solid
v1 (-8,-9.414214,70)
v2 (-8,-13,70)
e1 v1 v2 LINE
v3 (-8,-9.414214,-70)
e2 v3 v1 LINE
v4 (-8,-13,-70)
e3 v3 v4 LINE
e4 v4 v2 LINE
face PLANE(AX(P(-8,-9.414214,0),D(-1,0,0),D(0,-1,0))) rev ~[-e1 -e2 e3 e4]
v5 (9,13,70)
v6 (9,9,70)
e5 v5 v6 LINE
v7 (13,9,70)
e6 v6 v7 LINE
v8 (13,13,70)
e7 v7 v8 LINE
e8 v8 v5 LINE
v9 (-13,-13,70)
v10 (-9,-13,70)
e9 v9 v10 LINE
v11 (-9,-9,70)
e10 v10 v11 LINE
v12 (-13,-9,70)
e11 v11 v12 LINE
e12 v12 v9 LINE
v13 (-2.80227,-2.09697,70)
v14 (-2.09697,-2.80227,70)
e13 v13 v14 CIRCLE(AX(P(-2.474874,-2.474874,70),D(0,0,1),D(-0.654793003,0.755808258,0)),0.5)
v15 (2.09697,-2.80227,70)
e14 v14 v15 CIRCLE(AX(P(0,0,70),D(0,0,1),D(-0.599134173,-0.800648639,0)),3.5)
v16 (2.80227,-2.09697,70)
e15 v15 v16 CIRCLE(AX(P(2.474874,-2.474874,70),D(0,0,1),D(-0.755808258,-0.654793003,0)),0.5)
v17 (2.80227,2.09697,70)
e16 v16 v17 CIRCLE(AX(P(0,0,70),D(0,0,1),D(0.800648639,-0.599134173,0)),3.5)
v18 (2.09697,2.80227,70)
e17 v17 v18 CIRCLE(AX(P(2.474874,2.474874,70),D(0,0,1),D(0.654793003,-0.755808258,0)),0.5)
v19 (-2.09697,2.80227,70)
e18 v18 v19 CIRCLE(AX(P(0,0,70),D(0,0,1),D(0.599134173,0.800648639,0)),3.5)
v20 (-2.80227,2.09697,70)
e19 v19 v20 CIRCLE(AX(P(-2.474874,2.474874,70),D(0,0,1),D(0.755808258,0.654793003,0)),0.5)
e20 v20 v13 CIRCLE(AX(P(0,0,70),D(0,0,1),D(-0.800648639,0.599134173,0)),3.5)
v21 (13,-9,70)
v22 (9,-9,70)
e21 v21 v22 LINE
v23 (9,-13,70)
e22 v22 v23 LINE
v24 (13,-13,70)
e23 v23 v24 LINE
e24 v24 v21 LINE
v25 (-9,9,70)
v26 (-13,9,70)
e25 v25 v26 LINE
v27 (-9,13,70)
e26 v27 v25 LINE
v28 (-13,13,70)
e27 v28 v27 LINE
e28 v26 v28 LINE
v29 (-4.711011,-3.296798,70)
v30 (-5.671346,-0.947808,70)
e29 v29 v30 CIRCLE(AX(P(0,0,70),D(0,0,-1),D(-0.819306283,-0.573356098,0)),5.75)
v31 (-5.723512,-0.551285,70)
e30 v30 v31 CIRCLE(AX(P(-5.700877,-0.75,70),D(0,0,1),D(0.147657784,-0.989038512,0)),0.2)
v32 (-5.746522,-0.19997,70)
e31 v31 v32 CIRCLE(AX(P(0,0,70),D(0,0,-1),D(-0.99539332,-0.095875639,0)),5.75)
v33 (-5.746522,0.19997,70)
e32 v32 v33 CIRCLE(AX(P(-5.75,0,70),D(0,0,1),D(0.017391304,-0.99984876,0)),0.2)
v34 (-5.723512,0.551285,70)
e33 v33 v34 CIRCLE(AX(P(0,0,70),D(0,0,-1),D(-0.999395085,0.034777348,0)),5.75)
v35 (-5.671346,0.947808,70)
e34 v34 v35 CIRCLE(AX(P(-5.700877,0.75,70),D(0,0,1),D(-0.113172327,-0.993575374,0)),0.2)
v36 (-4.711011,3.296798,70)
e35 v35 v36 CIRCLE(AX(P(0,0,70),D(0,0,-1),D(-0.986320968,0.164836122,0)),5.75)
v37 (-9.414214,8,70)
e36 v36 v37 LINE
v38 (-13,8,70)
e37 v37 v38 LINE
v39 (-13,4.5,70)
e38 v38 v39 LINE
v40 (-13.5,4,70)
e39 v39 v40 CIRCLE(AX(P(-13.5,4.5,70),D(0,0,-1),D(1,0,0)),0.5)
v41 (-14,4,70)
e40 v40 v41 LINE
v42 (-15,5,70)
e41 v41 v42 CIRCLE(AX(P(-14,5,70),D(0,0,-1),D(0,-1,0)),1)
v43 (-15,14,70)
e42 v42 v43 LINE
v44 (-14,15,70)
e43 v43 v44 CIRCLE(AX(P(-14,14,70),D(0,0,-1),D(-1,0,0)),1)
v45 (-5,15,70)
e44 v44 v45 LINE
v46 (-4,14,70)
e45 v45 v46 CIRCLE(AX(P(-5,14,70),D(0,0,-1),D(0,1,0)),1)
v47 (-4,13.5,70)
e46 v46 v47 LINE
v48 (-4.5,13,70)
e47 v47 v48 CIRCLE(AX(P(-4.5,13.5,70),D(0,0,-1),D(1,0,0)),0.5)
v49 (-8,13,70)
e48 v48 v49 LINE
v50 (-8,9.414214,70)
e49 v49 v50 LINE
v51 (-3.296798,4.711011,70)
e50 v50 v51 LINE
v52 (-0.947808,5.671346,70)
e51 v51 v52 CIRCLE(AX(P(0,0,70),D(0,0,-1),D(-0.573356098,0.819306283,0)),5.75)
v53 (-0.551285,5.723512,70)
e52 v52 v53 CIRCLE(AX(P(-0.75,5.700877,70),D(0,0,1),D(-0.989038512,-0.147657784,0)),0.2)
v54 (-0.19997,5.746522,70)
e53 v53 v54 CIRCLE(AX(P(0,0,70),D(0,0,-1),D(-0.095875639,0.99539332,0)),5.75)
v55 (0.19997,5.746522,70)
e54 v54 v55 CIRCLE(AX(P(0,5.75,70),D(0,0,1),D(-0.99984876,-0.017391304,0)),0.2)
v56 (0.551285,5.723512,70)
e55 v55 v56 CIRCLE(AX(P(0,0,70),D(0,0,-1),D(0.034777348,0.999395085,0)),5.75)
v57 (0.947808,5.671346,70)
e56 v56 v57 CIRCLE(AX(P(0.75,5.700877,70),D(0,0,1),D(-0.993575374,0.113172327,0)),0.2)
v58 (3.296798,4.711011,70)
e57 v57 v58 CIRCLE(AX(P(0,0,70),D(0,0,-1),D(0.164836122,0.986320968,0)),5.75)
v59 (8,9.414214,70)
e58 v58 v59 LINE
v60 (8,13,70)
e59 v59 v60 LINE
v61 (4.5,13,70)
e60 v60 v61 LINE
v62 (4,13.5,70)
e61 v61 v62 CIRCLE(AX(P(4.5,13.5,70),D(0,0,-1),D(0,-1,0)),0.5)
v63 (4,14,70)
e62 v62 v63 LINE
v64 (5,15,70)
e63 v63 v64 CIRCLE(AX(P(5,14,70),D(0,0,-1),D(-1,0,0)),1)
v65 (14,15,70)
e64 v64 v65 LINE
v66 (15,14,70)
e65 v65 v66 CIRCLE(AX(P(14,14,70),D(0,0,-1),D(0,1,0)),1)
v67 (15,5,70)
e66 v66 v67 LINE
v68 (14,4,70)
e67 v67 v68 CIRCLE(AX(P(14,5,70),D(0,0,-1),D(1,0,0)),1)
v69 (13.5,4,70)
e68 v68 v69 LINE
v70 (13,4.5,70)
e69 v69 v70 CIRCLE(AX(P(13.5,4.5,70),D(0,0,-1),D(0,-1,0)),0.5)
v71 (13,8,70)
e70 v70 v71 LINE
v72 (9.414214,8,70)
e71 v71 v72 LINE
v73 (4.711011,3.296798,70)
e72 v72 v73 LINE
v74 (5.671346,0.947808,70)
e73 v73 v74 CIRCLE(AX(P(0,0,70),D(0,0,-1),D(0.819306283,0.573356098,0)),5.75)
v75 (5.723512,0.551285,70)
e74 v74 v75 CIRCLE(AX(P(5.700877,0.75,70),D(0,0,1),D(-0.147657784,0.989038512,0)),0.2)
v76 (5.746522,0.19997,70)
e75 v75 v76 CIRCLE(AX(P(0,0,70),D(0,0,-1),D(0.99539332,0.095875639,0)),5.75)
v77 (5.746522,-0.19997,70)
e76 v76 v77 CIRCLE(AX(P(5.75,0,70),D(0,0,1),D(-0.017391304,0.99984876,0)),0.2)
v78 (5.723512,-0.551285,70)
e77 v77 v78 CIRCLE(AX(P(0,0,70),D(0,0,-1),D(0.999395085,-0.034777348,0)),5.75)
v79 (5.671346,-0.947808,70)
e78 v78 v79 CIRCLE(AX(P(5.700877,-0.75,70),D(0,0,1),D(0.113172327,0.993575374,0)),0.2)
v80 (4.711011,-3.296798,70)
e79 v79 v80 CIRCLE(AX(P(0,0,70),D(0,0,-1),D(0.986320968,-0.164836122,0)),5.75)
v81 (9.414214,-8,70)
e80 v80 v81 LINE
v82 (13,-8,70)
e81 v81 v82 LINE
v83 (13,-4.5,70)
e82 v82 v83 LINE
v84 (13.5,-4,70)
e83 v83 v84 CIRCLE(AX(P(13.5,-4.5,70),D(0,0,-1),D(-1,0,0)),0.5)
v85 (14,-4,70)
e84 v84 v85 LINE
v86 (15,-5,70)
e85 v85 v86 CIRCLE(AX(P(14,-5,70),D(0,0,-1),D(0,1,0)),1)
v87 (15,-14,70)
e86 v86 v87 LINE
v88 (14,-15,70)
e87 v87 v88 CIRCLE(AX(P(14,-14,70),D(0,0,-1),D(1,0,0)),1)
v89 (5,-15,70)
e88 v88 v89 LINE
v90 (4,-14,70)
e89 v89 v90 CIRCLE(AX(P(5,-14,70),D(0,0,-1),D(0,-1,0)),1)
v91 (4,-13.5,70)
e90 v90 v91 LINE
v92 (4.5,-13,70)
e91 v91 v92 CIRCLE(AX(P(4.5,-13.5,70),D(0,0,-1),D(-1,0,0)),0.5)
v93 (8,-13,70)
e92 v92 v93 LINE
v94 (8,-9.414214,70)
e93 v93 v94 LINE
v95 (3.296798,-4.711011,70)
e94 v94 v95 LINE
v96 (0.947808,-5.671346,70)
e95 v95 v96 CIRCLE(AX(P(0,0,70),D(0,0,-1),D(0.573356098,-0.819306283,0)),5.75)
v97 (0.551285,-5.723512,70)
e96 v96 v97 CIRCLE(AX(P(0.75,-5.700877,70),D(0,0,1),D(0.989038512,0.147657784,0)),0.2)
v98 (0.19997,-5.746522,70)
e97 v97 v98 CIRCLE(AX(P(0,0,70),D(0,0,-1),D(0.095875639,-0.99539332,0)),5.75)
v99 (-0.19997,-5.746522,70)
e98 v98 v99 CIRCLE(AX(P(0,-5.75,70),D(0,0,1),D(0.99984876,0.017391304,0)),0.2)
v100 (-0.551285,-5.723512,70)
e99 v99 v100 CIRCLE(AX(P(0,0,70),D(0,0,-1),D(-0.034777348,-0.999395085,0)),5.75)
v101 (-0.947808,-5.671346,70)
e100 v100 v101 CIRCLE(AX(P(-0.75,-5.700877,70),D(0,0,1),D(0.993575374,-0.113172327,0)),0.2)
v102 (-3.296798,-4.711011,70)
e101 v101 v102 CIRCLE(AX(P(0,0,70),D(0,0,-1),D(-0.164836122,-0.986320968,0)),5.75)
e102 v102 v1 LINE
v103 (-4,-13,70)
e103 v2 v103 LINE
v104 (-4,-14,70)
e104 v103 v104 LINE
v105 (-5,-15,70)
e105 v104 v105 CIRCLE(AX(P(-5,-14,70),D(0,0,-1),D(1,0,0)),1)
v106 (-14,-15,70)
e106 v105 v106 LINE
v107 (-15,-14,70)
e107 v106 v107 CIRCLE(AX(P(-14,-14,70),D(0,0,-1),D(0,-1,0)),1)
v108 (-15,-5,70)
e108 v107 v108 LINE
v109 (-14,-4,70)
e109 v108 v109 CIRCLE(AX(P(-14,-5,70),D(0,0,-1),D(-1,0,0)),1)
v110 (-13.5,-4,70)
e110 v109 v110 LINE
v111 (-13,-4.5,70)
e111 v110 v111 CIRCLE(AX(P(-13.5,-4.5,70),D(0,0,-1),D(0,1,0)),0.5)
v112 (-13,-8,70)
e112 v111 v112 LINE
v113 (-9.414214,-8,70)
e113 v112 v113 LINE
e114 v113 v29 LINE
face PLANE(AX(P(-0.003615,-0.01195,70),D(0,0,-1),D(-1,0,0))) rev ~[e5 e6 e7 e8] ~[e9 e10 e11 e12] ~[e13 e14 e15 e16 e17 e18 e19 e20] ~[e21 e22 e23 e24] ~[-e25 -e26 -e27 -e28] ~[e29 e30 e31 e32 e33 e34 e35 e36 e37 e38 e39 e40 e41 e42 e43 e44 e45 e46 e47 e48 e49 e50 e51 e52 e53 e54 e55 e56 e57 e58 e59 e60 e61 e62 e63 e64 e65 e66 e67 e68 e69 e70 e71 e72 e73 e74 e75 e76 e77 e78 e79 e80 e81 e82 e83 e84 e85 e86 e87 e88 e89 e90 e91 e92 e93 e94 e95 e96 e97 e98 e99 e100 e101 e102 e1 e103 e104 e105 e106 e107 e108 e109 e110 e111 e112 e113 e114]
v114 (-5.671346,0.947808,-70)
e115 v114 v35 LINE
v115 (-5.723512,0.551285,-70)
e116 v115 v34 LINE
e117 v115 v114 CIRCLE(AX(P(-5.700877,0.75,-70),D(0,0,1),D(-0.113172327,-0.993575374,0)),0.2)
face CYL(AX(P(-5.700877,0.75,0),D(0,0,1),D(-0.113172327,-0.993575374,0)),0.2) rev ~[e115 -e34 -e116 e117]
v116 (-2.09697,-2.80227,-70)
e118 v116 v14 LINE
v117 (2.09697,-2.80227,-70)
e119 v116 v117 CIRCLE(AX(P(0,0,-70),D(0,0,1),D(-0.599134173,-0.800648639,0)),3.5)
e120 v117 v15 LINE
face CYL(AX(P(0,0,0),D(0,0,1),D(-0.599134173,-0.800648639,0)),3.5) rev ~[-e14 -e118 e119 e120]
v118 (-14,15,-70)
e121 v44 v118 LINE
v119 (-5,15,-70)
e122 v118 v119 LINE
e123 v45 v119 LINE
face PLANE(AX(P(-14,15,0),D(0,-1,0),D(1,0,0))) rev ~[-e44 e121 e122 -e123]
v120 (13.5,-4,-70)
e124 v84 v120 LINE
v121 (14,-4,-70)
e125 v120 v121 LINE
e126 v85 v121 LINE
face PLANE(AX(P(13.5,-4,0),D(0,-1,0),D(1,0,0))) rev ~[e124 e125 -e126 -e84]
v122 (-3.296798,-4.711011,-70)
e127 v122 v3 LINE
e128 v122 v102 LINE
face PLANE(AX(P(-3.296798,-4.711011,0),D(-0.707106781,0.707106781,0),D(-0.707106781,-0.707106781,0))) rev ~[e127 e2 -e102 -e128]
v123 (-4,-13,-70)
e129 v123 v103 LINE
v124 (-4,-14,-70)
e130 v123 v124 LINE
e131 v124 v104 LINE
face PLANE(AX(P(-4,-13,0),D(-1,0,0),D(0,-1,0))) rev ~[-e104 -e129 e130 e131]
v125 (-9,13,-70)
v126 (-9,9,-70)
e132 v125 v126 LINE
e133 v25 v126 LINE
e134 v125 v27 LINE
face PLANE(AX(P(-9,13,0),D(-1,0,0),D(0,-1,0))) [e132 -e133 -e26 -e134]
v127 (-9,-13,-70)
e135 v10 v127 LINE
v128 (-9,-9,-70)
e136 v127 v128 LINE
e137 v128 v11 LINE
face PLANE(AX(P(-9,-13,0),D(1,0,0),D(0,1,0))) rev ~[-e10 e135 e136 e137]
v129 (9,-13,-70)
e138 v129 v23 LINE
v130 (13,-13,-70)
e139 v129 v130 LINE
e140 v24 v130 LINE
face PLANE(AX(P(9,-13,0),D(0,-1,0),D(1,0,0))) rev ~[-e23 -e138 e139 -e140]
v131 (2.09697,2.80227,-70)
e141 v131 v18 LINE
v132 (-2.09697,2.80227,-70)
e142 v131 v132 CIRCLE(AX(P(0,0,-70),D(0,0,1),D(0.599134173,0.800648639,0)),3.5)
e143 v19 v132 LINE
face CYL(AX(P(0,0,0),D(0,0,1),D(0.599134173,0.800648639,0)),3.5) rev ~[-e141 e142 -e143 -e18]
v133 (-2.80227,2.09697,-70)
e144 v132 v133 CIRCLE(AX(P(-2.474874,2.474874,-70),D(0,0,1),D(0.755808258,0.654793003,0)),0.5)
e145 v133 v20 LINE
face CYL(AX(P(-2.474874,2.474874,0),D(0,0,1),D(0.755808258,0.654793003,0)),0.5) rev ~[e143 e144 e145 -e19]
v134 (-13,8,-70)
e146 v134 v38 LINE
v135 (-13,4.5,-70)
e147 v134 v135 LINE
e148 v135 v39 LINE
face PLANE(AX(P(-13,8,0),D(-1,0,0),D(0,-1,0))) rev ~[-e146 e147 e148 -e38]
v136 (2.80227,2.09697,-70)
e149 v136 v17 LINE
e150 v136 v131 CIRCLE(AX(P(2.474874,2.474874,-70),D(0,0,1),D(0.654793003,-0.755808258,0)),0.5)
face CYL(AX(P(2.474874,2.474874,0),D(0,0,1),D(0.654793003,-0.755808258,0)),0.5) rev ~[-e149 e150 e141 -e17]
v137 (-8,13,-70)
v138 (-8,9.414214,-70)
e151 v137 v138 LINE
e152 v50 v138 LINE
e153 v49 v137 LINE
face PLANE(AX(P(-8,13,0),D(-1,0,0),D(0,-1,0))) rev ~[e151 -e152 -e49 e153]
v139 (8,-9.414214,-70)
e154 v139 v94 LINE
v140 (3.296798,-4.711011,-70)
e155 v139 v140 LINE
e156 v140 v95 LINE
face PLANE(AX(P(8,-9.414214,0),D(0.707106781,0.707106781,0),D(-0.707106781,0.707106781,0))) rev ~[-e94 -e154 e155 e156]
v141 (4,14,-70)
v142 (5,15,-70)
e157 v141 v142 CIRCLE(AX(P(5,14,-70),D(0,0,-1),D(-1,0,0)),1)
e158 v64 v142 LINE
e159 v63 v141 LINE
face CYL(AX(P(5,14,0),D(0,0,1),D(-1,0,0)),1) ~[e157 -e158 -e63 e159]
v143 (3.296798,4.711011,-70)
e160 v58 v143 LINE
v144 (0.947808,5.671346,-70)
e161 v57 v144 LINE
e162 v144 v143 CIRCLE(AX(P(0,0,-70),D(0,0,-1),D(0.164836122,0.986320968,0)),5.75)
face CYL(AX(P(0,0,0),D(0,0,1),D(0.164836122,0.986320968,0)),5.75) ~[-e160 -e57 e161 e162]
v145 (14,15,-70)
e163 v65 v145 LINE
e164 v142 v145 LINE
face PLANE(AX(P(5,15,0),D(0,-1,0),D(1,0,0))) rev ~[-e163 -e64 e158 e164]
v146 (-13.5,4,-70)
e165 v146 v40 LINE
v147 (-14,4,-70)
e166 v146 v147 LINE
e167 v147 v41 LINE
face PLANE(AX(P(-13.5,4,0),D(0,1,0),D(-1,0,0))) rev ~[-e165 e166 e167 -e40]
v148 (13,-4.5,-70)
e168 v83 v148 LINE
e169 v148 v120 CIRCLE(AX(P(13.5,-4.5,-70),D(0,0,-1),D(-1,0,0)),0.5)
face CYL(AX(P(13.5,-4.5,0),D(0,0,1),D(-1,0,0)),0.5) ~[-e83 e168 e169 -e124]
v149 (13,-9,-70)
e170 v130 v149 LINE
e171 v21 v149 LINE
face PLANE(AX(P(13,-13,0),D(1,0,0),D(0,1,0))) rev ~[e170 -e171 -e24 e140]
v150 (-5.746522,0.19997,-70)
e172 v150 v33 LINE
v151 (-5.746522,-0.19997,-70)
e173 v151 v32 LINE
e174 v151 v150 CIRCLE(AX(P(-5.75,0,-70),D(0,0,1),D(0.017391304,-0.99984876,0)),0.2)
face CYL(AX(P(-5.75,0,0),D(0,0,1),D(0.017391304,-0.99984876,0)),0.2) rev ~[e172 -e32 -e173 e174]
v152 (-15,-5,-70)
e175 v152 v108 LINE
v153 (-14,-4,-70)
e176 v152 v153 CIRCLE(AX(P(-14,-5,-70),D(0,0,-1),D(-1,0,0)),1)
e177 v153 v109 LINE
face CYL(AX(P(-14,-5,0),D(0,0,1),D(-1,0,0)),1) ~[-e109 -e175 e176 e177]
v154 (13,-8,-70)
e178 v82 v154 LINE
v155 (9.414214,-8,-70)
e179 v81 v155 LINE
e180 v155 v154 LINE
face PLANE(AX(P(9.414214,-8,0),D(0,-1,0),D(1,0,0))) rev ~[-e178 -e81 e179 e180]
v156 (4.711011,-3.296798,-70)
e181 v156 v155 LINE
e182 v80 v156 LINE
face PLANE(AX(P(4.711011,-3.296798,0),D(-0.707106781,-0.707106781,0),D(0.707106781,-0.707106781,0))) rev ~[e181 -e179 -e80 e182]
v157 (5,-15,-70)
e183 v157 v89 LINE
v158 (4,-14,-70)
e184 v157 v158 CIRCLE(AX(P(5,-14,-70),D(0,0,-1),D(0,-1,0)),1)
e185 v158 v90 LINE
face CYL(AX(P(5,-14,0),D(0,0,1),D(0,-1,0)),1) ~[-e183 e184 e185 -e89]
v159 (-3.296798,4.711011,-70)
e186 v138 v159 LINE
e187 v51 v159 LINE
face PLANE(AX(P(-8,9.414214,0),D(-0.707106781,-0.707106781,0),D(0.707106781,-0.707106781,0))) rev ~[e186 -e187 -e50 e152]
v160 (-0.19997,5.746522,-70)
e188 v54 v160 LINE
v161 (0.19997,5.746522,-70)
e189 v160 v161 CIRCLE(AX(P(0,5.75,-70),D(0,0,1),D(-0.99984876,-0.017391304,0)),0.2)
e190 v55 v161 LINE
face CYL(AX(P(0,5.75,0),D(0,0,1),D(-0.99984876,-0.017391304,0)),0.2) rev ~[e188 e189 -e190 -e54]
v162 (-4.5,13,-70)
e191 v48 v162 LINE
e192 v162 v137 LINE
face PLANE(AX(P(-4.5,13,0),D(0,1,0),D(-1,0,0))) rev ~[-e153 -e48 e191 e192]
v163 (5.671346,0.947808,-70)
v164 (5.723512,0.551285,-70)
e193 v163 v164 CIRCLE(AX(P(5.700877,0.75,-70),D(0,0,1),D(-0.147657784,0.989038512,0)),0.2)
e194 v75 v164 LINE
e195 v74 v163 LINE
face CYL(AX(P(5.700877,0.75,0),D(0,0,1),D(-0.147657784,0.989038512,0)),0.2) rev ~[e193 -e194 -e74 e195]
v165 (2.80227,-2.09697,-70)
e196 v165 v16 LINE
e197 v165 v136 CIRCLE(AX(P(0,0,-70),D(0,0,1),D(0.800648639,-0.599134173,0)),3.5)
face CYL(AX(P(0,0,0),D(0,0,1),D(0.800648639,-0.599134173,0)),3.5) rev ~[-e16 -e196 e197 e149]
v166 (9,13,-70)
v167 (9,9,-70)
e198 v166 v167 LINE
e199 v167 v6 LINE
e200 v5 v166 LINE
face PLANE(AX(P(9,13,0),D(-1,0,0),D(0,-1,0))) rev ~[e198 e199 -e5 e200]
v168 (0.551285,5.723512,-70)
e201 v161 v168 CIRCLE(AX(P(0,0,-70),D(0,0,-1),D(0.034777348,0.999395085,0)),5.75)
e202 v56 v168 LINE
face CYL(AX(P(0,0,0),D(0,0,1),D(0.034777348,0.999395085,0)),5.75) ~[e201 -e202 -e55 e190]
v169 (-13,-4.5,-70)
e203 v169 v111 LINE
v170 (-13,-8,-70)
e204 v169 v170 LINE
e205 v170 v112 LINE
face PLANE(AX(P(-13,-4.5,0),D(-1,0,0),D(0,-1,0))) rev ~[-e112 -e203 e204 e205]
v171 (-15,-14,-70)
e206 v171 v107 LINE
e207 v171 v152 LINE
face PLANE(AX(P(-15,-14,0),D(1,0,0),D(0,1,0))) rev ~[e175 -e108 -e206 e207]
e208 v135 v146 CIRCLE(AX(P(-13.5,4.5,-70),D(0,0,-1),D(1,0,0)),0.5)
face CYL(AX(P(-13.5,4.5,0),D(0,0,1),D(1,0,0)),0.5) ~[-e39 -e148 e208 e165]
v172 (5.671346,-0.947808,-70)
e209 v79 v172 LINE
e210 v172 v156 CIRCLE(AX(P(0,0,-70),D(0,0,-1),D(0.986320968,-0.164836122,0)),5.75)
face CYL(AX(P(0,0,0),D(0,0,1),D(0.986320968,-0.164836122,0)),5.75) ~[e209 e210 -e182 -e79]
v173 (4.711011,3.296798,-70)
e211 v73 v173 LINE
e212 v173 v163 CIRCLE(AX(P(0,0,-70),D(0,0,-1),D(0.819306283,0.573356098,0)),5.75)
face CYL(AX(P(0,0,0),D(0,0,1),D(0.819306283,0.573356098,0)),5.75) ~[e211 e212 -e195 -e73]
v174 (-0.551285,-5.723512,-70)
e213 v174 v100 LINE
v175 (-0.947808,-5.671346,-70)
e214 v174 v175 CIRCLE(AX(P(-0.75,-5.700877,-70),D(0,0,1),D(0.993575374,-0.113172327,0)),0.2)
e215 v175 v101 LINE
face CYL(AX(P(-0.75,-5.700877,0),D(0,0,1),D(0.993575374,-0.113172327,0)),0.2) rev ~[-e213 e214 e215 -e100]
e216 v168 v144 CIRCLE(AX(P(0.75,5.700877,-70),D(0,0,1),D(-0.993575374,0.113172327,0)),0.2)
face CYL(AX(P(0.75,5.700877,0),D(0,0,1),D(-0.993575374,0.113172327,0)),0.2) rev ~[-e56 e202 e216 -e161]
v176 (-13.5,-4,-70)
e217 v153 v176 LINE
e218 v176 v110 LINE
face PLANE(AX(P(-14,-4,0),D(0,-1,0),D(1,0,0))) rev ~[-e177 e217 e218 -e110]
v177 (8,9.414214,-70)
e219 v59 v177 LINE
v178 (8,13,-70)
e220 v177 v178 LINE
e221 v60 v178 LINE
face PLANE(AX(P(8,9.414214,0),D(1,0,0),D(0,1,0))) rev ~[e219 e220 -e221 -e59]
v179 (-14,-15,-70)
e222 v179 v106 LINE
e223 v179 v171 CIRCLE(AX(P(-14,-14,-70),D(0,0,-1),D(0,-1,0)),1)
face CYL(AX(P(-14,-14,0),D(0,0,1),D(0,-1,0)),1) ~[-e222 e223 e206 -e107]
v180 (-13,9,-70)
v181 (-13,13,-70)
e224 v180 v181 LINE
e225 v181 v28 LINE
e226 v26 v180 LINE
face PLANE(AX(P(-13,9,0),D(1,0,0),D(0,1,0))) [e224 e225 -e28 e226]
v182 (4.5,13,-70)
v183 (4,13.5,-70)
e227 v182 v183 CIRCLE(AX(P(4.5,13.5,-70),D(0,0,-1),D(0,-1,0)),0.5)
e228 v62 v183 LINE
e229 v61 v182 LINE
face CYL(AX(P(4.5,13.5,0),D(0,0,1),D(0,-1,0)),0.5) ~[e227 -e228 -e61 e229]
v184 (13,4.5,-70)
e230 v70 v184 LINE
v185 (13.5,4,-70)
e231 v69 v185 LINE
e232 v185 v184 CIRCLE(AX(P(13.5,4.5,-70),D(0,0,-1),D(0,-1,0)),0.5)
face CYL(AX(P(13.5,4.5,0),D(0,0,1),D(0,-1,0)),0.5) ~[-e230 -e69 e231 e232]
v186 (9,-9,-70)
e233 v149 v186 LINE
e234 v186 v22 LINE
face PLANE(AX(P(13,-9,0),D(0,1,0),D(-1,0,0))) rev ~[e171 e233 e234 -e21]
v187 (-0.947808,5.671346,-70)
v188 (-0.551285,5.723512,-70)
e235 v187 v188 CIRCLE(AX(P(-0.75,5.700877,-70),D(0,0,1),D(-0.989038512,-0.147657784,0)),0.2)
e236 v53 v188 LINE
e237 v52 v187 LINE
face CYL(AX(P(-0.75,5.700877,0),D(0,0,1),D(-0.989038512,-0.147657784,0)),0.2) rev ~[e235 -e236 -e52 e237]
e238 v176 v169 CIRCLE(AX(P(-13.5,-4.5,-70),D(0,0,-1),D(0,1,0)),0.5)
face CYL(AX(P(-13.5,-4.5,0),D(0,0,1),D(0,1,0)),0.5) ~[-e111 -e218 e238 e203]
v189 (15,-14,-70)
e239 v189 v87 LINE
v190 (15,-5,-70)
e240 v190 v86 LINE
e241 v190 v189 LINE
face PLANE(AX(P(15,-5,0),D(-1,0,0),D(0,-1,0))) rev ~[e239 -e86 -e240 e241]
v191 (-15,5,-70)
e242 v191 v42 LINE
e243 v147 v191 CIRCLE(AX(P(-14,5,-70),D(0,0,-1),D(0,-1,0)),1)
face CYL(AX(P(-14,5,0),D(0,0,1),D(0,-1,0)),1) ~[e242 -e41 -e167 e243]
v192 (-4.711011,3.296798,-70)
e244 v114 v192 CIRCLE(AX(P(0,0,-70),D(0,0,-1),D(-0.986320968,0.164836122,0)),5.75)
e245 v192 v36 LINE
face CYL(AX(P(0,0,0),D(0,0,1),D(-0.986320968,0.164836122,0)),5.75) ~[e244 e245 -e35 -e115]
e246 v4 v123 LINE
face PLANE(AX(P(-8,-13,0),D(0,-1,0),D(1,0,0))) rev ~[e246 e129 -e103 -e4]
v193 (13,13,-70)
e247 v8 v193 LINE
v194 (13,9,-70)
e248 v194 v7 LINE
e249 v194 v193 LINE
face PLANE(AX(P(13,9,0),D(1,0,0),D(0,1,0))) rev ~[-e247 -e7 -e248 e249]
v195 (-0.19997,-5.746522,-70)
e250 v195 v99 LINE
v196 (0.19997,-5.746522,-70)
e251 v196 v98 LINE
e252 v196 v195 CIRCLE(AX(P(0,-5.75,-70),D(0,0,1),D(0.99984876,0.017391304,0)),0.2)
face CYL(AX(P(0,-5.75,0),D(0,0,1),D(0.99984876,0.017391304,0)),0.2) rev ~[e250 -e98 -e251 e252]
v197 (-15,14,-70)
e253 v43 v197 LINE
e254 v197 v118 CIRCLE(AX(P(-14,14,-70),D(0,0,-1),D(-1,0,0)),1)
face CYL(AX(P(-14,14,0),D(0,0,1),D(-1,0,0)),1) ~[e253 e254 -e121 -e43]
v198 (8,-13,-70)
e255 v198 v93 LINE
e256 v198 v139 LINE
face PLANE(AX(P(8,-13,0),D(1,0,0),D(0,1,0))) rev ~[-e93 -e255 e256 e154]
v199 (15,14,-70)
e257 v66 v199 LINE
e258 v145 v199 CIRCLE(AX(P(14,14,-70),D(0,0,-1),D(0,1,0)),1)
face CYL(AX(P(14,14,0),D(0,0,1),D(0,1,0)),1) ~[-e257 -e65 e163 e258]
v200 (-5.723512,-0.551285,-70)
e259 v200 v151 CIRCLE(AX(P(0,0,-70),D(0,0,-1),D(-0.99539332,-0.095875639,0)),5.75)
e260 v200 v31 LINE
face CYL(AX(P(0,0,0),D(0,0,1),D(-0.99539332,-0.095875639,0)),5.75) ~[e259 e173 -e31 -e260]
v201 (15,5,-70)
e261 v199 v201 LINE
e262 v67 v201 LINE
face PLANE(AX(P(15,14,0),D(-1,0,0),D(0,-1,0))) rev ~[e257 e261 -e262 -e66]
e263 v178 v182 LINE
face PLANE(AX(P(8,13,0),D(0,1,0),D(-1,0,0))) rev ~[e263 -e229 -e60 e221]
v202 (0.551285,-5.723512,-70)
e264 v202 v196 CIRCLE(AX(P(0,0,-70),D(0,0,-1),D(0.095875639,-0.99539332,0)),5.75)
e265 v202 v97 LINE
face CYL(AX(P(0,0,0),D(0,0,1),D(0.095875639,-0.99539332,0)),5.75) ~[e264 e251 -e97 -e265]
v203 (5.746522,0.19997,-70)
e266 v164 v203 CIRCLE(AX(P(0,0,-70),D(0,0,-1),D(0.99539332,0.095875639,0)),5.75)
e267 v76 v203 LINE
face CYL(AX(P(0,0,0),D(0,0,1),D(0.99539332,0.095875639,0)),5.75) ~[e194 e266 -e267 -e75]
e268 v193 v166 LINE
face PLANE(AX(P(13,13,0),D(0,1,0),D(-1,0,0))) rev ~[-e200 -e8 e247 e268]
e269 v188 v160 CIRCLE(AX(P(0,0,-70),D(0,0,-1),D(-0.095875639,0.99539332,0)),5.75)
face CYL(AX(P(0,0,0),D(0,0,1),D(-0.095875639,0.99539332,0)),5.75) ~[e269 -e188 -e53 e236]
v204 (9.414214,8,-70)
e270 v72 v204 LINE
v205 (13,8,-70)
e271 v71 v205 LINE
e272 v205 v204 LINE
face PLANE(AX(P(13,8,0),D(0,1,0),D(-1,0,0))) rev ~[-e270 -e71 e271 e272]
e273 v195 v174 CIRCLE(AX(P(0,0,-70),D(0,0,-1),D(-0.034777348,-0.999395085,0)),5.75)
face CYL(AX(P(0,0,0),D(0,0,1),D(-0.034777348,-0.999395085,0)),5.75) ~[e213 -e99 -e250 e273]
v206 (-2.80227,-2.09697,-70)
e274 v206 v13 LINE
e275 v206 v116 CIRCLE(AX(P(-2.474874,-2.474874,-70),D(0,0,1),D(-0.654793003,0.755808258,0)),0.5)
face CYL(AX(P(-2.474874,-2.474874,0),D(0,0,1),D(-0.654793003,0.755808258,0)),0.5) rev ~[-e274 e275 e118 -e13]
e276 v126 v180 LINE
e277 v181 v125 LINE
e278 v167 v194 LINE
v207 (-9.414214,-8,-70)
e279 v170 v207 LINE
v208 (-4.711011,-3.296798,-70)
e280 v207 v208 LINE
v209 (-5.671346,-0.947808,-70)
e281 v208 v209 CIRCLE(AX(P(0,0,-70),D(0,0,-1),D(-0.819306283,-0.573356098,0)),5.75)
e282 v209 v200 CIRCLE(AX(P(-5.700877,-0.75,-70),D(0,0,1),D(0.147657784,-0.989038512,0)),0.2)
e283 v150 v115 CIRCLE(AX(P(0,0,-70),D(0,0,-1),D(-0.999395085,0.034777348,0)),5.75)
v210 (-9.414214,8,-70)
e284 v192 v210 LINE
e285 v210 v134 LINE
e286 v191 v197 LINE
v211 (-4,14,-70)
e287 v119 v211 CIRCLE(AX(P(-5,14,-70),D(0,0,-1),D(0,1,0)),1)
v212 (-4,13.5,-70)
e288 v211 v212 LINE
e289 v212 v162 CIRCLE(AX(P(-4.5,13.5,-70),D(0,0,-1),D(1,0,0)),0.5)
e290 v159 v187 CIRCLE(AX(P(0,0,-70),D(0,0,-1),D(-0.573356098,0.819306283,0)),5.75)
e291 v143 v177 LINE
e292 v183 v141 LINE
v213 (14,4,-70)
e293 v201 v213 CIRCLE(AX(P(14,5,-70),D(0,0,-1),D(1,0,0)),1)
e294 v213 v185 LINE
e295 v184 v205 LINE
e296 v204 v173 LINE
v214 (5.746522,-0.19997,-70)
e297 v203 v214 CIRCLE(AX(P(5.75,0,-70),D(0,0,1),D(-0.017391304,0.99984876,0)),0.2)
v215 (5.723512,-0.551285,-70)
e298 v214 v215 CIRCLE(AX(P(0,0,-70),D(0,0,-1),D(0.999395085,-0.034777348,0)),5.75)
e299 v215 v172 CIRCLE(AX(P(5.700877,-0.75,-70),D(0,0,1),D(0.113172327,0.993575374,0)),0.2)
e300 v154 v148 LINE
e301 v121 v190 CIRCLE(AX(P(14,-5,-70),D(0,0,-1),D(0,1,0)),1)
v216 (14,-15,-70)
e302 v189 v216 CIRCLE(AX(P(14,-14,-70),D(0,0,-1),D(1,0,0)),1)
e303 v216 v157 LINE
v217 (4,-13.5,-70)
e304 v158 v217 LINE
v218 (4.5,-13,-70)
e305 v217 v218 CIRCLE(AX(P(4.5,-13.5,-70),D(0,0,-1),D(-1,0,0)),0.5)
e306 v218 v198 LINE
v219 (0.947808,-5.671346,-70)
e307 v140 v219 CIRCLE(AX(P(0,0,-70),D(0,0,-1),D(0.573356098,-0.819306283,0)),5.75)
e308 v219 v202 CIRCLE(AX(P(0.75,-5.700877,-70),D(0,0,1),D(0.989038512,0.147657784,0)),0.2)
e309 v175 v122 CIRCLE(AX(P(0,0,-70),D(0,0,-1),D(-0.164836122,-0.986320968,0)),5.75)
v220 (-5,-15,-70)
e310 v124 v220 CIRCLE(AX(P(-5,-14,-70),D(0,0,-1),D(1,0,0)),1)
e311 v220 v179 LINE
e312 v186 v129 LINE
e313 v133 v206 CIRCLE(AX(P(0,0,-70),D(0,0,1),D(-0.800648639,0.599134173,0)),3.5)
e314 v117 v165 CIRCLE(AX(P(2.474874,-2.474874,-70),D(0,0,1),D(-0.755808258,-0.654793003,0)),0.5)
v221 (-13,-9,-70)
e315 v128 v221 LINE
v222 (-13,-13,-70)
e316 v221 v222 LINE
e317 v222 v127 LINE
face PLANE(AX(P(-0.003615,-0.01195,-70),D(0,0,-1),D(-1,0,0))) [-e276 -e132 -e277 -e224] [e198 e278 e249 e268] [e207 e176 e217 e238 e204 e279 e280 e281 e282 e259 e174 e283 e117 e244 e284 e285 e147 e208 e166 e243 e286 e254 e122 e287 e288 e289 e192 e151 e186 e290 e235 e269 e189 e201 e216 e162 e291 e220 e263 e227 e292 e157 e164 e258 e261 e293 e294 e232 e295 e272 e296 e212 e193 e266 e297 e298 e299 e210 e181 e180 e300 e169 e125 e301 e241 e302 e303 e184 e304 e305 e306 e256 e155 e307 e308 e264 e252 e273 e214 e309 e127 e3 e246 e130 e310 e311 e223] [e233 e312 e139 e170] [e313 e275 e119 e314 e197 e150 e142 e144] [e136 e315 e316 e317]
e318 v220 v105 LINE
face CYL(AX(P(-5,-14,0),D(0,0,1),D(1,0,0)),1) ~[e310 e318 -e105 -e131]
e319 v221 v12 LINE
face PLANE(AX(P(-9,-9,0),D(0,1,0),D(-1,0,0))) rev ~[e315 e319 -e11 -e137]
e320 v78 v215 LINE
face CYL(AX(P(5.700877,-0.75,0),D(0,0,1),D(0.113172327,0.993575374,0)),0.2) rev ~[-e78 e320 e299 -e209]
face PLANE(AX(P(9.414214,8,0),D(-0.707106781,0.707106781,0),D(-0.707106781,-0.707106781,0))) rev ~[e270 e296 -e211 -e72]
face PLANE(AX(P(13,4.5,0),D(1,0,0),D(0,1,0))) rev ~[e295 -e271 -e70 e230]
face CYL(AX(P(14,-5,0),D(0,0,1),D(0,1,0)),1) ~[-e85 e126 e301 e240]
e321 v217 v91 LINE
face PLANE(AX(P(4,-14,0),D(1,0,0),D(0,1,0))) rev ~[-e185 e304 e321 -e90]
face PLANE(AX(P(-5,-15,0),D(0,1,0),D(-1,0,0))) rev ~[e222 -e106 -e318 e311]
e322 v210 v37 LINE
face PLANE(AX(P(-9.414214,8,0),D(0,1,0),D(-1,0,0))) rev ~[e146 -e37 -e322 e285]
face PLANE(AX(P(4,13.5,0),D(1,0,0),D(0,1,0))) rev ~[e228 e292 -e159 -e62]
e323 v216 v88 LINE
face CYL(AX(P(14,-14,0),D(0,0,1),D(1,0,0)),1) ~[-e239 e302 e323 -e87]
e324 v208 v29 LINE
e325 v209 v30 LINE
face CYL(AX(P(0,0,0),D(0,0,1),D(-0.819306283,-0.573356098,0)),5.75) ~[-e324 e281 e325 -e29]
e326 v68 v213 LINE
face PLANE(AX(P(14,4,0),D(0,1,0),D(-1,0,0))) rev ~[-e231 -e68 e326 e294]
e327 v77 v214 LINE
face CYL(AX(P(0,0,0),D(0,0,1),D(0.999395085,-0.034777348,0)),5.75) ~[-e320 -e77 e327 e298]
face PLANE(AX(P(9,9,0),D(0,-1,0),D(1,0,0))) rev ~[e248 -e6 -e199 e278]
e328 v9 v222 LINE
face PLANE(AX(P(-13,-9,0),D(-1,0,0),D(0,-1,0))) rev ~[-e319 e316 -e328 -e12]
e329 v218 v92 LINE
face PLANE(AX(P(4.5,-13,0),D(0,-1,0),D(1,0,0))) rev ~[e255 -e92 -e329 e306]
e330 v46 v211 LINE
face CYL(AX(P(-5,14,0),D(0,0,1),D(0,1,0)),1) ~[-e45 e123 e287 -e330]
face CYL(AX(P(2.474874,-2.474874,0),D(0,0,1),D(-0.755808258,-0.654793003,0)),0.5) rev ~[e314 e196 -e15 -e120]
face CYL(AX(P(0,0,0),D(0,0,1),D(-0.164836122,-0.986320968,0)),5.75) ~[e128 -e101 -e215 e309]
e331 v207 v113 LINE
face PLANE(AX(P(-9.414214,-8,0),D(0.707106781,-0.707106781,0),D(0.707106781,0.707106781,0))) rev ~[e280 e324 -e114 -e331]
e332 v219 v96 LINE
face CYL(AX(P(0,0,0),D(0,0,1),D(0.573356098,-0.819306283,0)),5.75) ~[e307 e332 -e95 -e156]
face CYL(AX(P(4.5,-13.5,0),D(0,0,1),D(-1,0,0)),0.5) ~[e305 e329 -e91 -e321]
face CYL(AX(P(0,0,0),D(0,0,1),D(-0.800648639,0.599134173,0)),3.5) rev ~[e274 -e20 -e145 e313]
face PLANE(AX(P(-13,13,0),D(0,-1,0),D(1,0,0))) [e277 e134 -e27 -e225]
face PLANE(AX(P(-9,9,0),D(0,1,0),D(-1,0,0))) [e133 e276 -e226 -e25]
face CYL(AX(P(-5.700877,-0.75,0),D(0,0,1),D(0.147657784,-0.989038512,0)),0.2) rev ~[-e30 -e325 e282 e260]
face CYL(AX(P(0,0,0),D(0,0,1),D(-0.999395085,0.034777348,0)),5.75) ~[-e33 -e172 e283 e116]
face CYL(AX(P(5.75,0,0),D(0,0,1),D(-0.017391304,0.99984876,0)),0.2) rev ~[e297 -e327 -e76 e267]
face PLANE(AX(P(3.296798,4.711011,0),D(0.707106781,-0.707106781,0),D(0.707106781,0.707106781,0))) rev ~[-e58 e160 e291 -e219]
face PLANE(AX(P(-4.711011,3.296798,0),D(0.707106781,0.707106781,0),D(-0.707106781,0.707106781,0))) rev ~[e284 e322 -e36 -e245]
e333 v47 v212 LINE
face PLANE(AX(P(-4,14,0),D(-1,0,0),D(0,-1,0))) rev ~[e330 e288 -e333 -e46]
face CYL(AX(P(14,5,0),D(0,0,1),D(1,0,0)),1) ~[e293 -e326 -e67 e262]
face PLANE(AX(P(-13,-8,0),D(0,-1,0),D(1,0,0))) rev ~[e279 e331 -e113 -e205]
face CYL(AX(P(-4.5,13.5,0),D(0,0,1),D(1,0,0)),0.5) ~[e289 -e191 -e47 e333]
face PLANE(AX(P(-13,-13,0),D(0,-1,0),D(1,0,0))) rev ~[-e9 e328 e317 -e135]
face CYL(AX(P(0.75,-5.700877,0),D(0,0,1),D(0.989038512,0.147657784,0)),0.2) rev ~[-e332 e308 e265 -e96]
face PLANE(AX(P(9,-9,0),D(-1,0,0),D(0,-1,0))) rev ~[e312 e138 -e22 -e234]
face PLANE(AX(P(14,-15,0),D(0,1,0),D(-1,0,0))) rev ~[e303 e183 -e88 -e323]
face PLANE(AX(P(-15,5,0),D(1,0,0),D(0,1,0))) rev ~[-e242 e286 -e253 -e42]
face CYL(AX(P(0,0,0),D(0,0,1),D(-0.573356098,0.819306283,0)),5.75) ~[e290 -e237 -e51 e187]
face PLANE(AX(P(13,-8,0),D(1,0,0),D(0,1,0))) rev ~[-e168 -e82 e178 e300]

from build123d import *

# Parameters (mm, degrees)
BOSS_EXTRUDE1_DEPTH = 70


with BuildPart() as part:
    # Sketch1 → Boss-Extrude1 (new, symmetric)
    with BuildSketch(Plane.XY):
        with BuildLine():
            Line((-15, 5.000000000000009), (-15, 13.999999999999993))
            ThreePointArc((-15, 13.999999999999993), (-14.707106781186548, 14.70710678118655), (-13.999999999999991, 15.000000000000002))
            Line((-13.999999999999991, 15.000000000000002), (-5.000000000000007, 15.000000000000002))
            ThreePointArc((-5.000000000000007, 15.000000000000002), (-4.292893218813452, 14.707106781186548), (-4, 13.999999999999993))
            Line((-4, 13.999999999999993), (-4, 13.500000000000004))
            ThreePointArc((-4, 13.500000000000004), (-4.146446609406727, 13.146446609406725), (-4.500000000000005, 13))
            Line((-4.500000000000005, 13), (-8.000000000000005, 13.000000000000016))
            Line((-8.000000000000005, 13.000000000000016), (-7.999999999999849, 9.414213562373025))
            Line((-7.999999999999849, 9.414213562373025), (-3.2967975633251787, 4.711011125698298))
            ThreePointArc((-3.2967975633251787, 4.711011125698298), (-2.175943249756075, 5.3223839558829855), (-0.9478077024559322, 5.67134556866048))
            ThreePointArc((-0.9478077024559322, 5.67134556866048), (-0.7239130434782917, 5.502585747217556), (-0.5512849251433612, 5.72351159091246))
            ThreePointArc((-0.5512849251433612, 5.72351159091246), (-0.3758034914685008, 5.737706138850234), (-0.1999697519659725, 5.746521739130396))
            ThreePointArc((-0.1999697519659725, 5.746521739130396), (-0.14018621156536692, 5.607354193587874), (-2.429e-14, 5.549999999999962))
            ThreePointArc((-2.429e-14, 5.549999999999962), (0.14018621156537447, 5.607354193587863), (0.1999697519659689, 5.746521739130433))
            ThreePointArc((0.1999697519659689, 5.746521739130433), (0.37580349146849373, 5.737706138850271), (0.5512849251433537, 5.723511590912496))
            ThreePointArc((0.5512849251433537, 5.723511590912496), (0.7239130434782822, 5.502585747217588), (0.9478077024559303, 5.671345568660512))
            ThreePointArc((0.9478077024559303, 5.671345568660512), (2.1759432497560995, 5.32238395588301), (3.2967975633252076, 4.711011125698281))
            Line((3.2967975633252076, 4.711011125698281), (8.000000000000027, 9.414213562373071))
            Line((8.000000000000027, 9.414213562373071), (8.000000000000039, 12.999999999999977))
            Line((8.000000000000039, 12.999999999999977), (4.500000000000051, 12.999999999999986))
            ThreePointArc((4.500000000000051, 12.999999999999986), (4.146446609406774, 13.146446609406713), (4.000000000000049, 13.499999999999991))
            Line((4.000000000000049, 13.499999999999991), (4.000000000000051, 13.999999999999977))
            ThreePointArc((4.000000000000051, 13.999999999999977), (4.292893218813505, 14.70710678118653), (5.00000000000006, 14.999999999999982))
            Line((5.00000000000006, 14.999999999999982), (14.000000000000046, 14.99999999999995))
            ThreePointArc((14.000000000000046, 14.99999999999995), (14.7071067811866, 14.707106781186495), (15.00000000000005, 13.99999999999994))
            Line((15.00000000000005, 13.99999999999994), (15.000000000000018, 4.999999999999955))
            ThreePointArc((15.000000000000018, 4.999999999999955), (14.707106781186562, 4.2928932188134015), (14.000000000000007, 3.9999999999999516))
            Line((14.000000000000007, 3.9999999999999516), (13.500000000000018, 3.9999999999999534))
            ThreePointArc((13.500000000000018, 3.9999999999999534), (13.146446609406741, 4.146446609406682), (13.000000000000014, 4.499999999999961))
            Line((13.000000000000014, 4.499999999999961), (13.000000000000044, 7.99999999999996))
            Line((13.000000000000044, 7.99999999999996), (9.414213562373115, 7.9999999999999725))
            Line((9.414213562373115, 7.9999999999999725), (4.711011125698292, 3.2967975633251885))
            ThreePointArc((4.711011125698292, 3.2967975633251885), (5.322383955882988, 2.1759432497560716), (5.671345568660484, 0.9478077024559123))
            ThreePointArc((5.671345568660484, 0.9478077024559123), (5.502585747217559, 0.7239130434782725), (5.723511590912461, 0.5512849251433413))
            ThreePointArc((5.723511590912461, 0.5512849251433413), (5.7377061388502355, 0.37580349146848013), (5.746521739130397, 0.19996975196595243))
            ThreePointArc((5.746521739130397, 0.19996975196595243), (5.607354193587875, 0.14018621156534747), (5.549999999999962, 4.91e-15))
            ThreePointArc((5.549999999999962, 4.91e-15), (5.60735419358786, -0.1401862115653925), (5.746521739130428, -0.1999697519659527))
            ThreePointArc((5.746521739130428, -0.1999697519659527), (5.737706138850272, -0.3758034914684969), (5.723511590912494, -0.5512849251433738))
            ThreePointArc((5.723511590912494, -0.5512849251433738), (5.502585747217585, -0.7239130434783013), (5.6713455686605085, -0.94780770245595))
            ThreePointArc((5.6713455686605085, -0.94780770245595), (5.3223839558830015, -2.175943249756118), (4.711011125698269, -3.296797563325224))
            Line((4.711011125698269, -3.296797563325224), (9.414213562373133, -7.999999999999714))
            Line((9.414213562373133, -7.999999999999714), (13.000000000000002, -7.99999999999998))
            Line((13.000000000000002, -7.99999999999998), (12.999999999999952, -4.499999999999787))
            ThreePointArc((12.999999999999952, -4.499999999999787), (13.146446609406702, -4.146446609406478), (13.50000000000003, -3.999999999999776))
            Line((13.50000000000003, -3.999999999999776), (14.000000000000144, -3.9999999999998517))
            ThreePointArc((14.000000000000144, -3.9999999999998517), (14.707106781186603, -4.292893218813357), (15.000000000000002, -4.999999999999859))
            Line((15.000000000000002, -4.999999999999859), (15.000000000000004, -14.000000000000002))
            ThreePointArc((15.000000000000004, -14.000000000000002), (14.70710678118655, -14.707106781186548), (14.000000000000004, -15.000000000000004))
            Line((14.000000000000004, -15.000000000000004), (5.000000000000161, -15.000000000000002))
            ThreePointArc((5.000000000000161, -15.000000000000002), (4.2928932188135525, -14.707106781186496), (4.000000000000154, -13.999999999999844))
            Line((4.000000000000154, -13.999999999999844), (4.000000000000229, -13.499999999999826))
            ThreePointArc((4.000000000000229, -13.499999999999826), (4.146446609406977, -13.1464466094066), (4.500000000000221, -12.999999999999897))
            Line((4.500000000000221, -12.999999999999897), (8.000000000000153, -12.999999999999817))
            Line((8.000000000000153, -12.999999999999817), (7.99999999999994, -9.414213562373144))
            Line((7.99999999999994, -9.414213562373144), (3.296797563325172, -4.711011125698304))
            ThreePointArc((3.296797563325172, -4.711011125698304), (2.175943249756054, -5.322383955882996), (0.9478077024558925, -5.671345568660487))
            ThreePointArc((0.9478077024558925, -5.671345568660487), (0.7239130434782536, -5.502585747217561), (0.5512849251433212, -5.723511590912463))
            ThreePointArc((0.5512849251433212, -5.723511590912463), (0.3758034914684597, -5.7377061388502355), (0.19996975196593236, -5.746521739130398))
            ThreePointArc((0.19996975196593236, -5.746521739130398), (0.14018621156532793, -5.6073541935878755), (-1.447e-14, -5.549999999999962))
            ThreePointArc((-1.447e-14, -5.549999999999962), (-0.14018621156541247, -5.60735419358786), (-0.19996975196595235, -5.746521739130428))
            ThreePointArc((-0.19996975196595235, -5.746521739130428), (-0.37580349146850606, -5.737706138850271), (-0.5512849251433938, -5.723511590912492))
            ThreePointArc((-0.5512849251433938, -5.723511590912492), (-0.7239130434783215, -5.502585747217583), (-0.9478077024559699, -5.671345568660507))
            ThreePointArc((-0.9478077024559699, -5.671345568660507), (-2.175943249756137, -5.322383955882994), (-3.2967975633252404, -4.711011125698258))
            Line((-3.2967975633252404, -4.711011125698258), (-7.99999999999998, -9.414213562373098))
            Line((-7.99999999999998, -9.414213562373098), (-7.99999999999998, -13.000000000000002))
            Line((-7.99999999999998, -13.000000000000002), (-4.000000000000001, -13.000000000000002))
            Line((-4.000000000000001, -13.000000000000002), (-4.000000000000001, -13.999999999999995))
            ThreePointArc((-4.000000000000001, -13.999999999999995), (-4.292893218813453, -14.70710678118655), (-5.000000000000008, -15.000000000000002))
            Line((-5.000000000000008, -15.000000000000002), (-13.999999999999998, -15.000000000000004))
            ThreePointArc((-13.999999999999998, -15.000000000000004), (-14.707106781186546, -14.707106781186553), (-15.000000000000004, -14.000000000000005))
            Line((-15.000000000000004, -14.000000000000005), (-15.000000000000002, -5.0000000000000115))
            ThreePointArc((-15.000000000000002, -5.0000000000000115), (-14.70710678118655, -4.292893218813457), (-13.999999999999995, -4.000000000000004))
            Line((-13.999999999999995, -4.000000000000004), (-13.500000000000007, -4.000000000000004))
            ThreePointArc((-13.500000000000007, -4.000000000000004), (-13.14644660940673, -4.1464466094067305), (-13.000000000000004, -4.500000000000007))
            Line((-13.000000000000004, -4.500000000000007), (-13.000000000000002, -8.000000000000002))
            Line((-13.000000000000002, -8.000000000000002), (-9.414213562373073, -8))
            Line((-9.414213562373073, -8), (-4.711011125698316, -3.2967975633251556))
            ThreePointArc((-4.711011125698316, -3.2967975633251556), (-5.322383955883002, -2.175943249756036), (-5.67134556866049, -0.9478077024558731))
            ThreePointArc((-5.67134556866049, -0.9478077024558731), (-5.502585747217563, -0.7239130434782345), (-5.723511590912465, -0.5512849251433016))
            ThreePointArc((-5.723511590912465, -0.5512849251433016), (-5.737706138850236, -0.3758034914684416), (-5.746521739130398, -0.1999697519659127))
            ThreePointArc((-5.746521739130398, -0.1999697519659127), (-5.607354193587914, -0.1401862115652944), (-5.549999999999999, -2.5e-16))
            ThreePointArc((-5.549999999999999, -2.5e-16), (-5.607354193587905, 0.1401862115653443), (-5.746521739130434, 0.19996975196594882))
            ThreePointArc((-5.746521739130434, 0.19996975196594882), (-5.737706138850273, 0.375803491468473), (-5.723511590912498, 0.5512849251433337))
            ThreePointArc((-5.723511590912498, 0.5512849251433337), (-5.502585747217591, 0.7239130434782631), (-5.671345568660516, 0.9478077024559104))
            ThreePointArc((-5.671345568660516, 0.9478077024559104), (-5.322383955883011, 2.17594324975609), (-4.711011125698278, 3.29679756332521))
            Line((-4.711011125698278, 3.29679756332521), (-9.414213562372948, 7.9999999999999325))
            Line((-9.414213562372948, 7.9999999999999325), (-13.000000000000005, 7.999999999999993))
            Line((-13.000000000000005, 7.999999999999993), (-13.000000000000002, 4.500000000000005))
            ThreePointArc((-13.000000000000002, 4.500000000000005), (-13.146446609406727, 4.146446609406728), (-13.500000000000005, 4.000000000000002))
            Line((-13.500000000000005, 4.000000000000002), (-13.999999999999991, 4.000000000000002))
            ThreePointArc((-13.999999999999991, 4.000000000000002), (-14.707106781186546, 4.292893218813454), (-15, 5.000000000000009))
        make_face()
        Polygon((-13.000000000000007, 9.000000000000016), (-12.999999999999853, 13.000000000000005), (-9.000000000000007, 13.000000000000016), (-8.999999999999853, 8.999999999999956), align=None, mode=Mode.SUBTRACT)
        Polygon((13.000000000000043, 12.999999999999956), (9.000000000000062, 12.999999999999975), (9.000000000000048, 8.999999999999975), (13.000000000000048, 8.999999999999961), align=None, mode=Mode.SUBTRACT)
        Polygon((13.000000000000004, -13.000000000000002), (13.000000000000004, -9.000000000000004), (9.000000000000062, -8.999999999999746), (9.000000000000105, -12.99999999999975), align=None, mode=Mode.SUBTRACT)
        Polygon((-13.000000000000002, -13.000000000000004), (-9.000000000000004, -13.000000000000004), (-9.000000000000004, -9.000000000000005), (-13, -9.000000000000007), align=None, mode=Mode.SUBTRACT)
        with BuildLine():
            ThreePointArc((3e-16, 3.5000000000000018), (-1.105000944452059, 3.320989748969435), (-2.096969605215332, 2.8022702358628915))
            ThreePointArc((-2.096969605215332, 2.8022702358628915), (-2.8284271247461614, 2.8284271247461947), (-2.8022702358628897, 2.0969696052153344))
            ThreePointArc((-2.8022702358628897, 2.0969696052153344), (-3.320989748969433, 1.1050009444520614), (-3.5, 1.73e-15))
            ThreePointArc((-3.5, 1.73e-15), (-3.320989748969439, -1.1050009444520394), (-2.8022702358629137, -2.096969605215303))
            ThreePointArc((-2.8022702358629137, -2.096969605215303), (-2.828427124746224, -2.8284271247461628), (-2.0969696052153637, -2.802270235862868))
            ThreePointArc((-2.0969696052153637, -2.802270235862868), (-1.1050009444520896, -3.3209897489694247), (-2.474e-14, -3.5000000000000018))
            ThreePointArc((-2.474e-14, -3.5000000000000018), (1.1050009444520363, -3.3209897489694424), (2.0969696052153126, -2.8022702358629066))
            ThreePointArc((2.0969696052153126, -2.8022702358629066), (2.8284271247461725, -2.828427124746214), (2.8022702358628746, -2.096969605215354))
            ThreePointArc((2.8022702358628746, -2.096969605215354), (3.3209897489694282, -1.1050009444520785), (3.5000000000000018, -1.252e-14))
            ThreePointArc((3.5000000000000018, -1.252e-14), (3.320989748969439, 1.1050009444520479), (2.802270235862899, 2.096969605215322))
            ThreePointArc((2.802270235862899, 2.096969605215322), (2.828427124746204, 2.828427124746182), (2.096969605215344, 2.802270235862882))
            ThreePointArc((2.096969605215344, 2.802270235862882), (1.1050009444520668, 3.320989748969432), (3e-16, 3.5000000000000018))
        make_face(mode=Mode.SUBTRACT)
    extrude(amount=BOSS_EXTRUDE1_DEPTH, both=True)


solid = part.part
